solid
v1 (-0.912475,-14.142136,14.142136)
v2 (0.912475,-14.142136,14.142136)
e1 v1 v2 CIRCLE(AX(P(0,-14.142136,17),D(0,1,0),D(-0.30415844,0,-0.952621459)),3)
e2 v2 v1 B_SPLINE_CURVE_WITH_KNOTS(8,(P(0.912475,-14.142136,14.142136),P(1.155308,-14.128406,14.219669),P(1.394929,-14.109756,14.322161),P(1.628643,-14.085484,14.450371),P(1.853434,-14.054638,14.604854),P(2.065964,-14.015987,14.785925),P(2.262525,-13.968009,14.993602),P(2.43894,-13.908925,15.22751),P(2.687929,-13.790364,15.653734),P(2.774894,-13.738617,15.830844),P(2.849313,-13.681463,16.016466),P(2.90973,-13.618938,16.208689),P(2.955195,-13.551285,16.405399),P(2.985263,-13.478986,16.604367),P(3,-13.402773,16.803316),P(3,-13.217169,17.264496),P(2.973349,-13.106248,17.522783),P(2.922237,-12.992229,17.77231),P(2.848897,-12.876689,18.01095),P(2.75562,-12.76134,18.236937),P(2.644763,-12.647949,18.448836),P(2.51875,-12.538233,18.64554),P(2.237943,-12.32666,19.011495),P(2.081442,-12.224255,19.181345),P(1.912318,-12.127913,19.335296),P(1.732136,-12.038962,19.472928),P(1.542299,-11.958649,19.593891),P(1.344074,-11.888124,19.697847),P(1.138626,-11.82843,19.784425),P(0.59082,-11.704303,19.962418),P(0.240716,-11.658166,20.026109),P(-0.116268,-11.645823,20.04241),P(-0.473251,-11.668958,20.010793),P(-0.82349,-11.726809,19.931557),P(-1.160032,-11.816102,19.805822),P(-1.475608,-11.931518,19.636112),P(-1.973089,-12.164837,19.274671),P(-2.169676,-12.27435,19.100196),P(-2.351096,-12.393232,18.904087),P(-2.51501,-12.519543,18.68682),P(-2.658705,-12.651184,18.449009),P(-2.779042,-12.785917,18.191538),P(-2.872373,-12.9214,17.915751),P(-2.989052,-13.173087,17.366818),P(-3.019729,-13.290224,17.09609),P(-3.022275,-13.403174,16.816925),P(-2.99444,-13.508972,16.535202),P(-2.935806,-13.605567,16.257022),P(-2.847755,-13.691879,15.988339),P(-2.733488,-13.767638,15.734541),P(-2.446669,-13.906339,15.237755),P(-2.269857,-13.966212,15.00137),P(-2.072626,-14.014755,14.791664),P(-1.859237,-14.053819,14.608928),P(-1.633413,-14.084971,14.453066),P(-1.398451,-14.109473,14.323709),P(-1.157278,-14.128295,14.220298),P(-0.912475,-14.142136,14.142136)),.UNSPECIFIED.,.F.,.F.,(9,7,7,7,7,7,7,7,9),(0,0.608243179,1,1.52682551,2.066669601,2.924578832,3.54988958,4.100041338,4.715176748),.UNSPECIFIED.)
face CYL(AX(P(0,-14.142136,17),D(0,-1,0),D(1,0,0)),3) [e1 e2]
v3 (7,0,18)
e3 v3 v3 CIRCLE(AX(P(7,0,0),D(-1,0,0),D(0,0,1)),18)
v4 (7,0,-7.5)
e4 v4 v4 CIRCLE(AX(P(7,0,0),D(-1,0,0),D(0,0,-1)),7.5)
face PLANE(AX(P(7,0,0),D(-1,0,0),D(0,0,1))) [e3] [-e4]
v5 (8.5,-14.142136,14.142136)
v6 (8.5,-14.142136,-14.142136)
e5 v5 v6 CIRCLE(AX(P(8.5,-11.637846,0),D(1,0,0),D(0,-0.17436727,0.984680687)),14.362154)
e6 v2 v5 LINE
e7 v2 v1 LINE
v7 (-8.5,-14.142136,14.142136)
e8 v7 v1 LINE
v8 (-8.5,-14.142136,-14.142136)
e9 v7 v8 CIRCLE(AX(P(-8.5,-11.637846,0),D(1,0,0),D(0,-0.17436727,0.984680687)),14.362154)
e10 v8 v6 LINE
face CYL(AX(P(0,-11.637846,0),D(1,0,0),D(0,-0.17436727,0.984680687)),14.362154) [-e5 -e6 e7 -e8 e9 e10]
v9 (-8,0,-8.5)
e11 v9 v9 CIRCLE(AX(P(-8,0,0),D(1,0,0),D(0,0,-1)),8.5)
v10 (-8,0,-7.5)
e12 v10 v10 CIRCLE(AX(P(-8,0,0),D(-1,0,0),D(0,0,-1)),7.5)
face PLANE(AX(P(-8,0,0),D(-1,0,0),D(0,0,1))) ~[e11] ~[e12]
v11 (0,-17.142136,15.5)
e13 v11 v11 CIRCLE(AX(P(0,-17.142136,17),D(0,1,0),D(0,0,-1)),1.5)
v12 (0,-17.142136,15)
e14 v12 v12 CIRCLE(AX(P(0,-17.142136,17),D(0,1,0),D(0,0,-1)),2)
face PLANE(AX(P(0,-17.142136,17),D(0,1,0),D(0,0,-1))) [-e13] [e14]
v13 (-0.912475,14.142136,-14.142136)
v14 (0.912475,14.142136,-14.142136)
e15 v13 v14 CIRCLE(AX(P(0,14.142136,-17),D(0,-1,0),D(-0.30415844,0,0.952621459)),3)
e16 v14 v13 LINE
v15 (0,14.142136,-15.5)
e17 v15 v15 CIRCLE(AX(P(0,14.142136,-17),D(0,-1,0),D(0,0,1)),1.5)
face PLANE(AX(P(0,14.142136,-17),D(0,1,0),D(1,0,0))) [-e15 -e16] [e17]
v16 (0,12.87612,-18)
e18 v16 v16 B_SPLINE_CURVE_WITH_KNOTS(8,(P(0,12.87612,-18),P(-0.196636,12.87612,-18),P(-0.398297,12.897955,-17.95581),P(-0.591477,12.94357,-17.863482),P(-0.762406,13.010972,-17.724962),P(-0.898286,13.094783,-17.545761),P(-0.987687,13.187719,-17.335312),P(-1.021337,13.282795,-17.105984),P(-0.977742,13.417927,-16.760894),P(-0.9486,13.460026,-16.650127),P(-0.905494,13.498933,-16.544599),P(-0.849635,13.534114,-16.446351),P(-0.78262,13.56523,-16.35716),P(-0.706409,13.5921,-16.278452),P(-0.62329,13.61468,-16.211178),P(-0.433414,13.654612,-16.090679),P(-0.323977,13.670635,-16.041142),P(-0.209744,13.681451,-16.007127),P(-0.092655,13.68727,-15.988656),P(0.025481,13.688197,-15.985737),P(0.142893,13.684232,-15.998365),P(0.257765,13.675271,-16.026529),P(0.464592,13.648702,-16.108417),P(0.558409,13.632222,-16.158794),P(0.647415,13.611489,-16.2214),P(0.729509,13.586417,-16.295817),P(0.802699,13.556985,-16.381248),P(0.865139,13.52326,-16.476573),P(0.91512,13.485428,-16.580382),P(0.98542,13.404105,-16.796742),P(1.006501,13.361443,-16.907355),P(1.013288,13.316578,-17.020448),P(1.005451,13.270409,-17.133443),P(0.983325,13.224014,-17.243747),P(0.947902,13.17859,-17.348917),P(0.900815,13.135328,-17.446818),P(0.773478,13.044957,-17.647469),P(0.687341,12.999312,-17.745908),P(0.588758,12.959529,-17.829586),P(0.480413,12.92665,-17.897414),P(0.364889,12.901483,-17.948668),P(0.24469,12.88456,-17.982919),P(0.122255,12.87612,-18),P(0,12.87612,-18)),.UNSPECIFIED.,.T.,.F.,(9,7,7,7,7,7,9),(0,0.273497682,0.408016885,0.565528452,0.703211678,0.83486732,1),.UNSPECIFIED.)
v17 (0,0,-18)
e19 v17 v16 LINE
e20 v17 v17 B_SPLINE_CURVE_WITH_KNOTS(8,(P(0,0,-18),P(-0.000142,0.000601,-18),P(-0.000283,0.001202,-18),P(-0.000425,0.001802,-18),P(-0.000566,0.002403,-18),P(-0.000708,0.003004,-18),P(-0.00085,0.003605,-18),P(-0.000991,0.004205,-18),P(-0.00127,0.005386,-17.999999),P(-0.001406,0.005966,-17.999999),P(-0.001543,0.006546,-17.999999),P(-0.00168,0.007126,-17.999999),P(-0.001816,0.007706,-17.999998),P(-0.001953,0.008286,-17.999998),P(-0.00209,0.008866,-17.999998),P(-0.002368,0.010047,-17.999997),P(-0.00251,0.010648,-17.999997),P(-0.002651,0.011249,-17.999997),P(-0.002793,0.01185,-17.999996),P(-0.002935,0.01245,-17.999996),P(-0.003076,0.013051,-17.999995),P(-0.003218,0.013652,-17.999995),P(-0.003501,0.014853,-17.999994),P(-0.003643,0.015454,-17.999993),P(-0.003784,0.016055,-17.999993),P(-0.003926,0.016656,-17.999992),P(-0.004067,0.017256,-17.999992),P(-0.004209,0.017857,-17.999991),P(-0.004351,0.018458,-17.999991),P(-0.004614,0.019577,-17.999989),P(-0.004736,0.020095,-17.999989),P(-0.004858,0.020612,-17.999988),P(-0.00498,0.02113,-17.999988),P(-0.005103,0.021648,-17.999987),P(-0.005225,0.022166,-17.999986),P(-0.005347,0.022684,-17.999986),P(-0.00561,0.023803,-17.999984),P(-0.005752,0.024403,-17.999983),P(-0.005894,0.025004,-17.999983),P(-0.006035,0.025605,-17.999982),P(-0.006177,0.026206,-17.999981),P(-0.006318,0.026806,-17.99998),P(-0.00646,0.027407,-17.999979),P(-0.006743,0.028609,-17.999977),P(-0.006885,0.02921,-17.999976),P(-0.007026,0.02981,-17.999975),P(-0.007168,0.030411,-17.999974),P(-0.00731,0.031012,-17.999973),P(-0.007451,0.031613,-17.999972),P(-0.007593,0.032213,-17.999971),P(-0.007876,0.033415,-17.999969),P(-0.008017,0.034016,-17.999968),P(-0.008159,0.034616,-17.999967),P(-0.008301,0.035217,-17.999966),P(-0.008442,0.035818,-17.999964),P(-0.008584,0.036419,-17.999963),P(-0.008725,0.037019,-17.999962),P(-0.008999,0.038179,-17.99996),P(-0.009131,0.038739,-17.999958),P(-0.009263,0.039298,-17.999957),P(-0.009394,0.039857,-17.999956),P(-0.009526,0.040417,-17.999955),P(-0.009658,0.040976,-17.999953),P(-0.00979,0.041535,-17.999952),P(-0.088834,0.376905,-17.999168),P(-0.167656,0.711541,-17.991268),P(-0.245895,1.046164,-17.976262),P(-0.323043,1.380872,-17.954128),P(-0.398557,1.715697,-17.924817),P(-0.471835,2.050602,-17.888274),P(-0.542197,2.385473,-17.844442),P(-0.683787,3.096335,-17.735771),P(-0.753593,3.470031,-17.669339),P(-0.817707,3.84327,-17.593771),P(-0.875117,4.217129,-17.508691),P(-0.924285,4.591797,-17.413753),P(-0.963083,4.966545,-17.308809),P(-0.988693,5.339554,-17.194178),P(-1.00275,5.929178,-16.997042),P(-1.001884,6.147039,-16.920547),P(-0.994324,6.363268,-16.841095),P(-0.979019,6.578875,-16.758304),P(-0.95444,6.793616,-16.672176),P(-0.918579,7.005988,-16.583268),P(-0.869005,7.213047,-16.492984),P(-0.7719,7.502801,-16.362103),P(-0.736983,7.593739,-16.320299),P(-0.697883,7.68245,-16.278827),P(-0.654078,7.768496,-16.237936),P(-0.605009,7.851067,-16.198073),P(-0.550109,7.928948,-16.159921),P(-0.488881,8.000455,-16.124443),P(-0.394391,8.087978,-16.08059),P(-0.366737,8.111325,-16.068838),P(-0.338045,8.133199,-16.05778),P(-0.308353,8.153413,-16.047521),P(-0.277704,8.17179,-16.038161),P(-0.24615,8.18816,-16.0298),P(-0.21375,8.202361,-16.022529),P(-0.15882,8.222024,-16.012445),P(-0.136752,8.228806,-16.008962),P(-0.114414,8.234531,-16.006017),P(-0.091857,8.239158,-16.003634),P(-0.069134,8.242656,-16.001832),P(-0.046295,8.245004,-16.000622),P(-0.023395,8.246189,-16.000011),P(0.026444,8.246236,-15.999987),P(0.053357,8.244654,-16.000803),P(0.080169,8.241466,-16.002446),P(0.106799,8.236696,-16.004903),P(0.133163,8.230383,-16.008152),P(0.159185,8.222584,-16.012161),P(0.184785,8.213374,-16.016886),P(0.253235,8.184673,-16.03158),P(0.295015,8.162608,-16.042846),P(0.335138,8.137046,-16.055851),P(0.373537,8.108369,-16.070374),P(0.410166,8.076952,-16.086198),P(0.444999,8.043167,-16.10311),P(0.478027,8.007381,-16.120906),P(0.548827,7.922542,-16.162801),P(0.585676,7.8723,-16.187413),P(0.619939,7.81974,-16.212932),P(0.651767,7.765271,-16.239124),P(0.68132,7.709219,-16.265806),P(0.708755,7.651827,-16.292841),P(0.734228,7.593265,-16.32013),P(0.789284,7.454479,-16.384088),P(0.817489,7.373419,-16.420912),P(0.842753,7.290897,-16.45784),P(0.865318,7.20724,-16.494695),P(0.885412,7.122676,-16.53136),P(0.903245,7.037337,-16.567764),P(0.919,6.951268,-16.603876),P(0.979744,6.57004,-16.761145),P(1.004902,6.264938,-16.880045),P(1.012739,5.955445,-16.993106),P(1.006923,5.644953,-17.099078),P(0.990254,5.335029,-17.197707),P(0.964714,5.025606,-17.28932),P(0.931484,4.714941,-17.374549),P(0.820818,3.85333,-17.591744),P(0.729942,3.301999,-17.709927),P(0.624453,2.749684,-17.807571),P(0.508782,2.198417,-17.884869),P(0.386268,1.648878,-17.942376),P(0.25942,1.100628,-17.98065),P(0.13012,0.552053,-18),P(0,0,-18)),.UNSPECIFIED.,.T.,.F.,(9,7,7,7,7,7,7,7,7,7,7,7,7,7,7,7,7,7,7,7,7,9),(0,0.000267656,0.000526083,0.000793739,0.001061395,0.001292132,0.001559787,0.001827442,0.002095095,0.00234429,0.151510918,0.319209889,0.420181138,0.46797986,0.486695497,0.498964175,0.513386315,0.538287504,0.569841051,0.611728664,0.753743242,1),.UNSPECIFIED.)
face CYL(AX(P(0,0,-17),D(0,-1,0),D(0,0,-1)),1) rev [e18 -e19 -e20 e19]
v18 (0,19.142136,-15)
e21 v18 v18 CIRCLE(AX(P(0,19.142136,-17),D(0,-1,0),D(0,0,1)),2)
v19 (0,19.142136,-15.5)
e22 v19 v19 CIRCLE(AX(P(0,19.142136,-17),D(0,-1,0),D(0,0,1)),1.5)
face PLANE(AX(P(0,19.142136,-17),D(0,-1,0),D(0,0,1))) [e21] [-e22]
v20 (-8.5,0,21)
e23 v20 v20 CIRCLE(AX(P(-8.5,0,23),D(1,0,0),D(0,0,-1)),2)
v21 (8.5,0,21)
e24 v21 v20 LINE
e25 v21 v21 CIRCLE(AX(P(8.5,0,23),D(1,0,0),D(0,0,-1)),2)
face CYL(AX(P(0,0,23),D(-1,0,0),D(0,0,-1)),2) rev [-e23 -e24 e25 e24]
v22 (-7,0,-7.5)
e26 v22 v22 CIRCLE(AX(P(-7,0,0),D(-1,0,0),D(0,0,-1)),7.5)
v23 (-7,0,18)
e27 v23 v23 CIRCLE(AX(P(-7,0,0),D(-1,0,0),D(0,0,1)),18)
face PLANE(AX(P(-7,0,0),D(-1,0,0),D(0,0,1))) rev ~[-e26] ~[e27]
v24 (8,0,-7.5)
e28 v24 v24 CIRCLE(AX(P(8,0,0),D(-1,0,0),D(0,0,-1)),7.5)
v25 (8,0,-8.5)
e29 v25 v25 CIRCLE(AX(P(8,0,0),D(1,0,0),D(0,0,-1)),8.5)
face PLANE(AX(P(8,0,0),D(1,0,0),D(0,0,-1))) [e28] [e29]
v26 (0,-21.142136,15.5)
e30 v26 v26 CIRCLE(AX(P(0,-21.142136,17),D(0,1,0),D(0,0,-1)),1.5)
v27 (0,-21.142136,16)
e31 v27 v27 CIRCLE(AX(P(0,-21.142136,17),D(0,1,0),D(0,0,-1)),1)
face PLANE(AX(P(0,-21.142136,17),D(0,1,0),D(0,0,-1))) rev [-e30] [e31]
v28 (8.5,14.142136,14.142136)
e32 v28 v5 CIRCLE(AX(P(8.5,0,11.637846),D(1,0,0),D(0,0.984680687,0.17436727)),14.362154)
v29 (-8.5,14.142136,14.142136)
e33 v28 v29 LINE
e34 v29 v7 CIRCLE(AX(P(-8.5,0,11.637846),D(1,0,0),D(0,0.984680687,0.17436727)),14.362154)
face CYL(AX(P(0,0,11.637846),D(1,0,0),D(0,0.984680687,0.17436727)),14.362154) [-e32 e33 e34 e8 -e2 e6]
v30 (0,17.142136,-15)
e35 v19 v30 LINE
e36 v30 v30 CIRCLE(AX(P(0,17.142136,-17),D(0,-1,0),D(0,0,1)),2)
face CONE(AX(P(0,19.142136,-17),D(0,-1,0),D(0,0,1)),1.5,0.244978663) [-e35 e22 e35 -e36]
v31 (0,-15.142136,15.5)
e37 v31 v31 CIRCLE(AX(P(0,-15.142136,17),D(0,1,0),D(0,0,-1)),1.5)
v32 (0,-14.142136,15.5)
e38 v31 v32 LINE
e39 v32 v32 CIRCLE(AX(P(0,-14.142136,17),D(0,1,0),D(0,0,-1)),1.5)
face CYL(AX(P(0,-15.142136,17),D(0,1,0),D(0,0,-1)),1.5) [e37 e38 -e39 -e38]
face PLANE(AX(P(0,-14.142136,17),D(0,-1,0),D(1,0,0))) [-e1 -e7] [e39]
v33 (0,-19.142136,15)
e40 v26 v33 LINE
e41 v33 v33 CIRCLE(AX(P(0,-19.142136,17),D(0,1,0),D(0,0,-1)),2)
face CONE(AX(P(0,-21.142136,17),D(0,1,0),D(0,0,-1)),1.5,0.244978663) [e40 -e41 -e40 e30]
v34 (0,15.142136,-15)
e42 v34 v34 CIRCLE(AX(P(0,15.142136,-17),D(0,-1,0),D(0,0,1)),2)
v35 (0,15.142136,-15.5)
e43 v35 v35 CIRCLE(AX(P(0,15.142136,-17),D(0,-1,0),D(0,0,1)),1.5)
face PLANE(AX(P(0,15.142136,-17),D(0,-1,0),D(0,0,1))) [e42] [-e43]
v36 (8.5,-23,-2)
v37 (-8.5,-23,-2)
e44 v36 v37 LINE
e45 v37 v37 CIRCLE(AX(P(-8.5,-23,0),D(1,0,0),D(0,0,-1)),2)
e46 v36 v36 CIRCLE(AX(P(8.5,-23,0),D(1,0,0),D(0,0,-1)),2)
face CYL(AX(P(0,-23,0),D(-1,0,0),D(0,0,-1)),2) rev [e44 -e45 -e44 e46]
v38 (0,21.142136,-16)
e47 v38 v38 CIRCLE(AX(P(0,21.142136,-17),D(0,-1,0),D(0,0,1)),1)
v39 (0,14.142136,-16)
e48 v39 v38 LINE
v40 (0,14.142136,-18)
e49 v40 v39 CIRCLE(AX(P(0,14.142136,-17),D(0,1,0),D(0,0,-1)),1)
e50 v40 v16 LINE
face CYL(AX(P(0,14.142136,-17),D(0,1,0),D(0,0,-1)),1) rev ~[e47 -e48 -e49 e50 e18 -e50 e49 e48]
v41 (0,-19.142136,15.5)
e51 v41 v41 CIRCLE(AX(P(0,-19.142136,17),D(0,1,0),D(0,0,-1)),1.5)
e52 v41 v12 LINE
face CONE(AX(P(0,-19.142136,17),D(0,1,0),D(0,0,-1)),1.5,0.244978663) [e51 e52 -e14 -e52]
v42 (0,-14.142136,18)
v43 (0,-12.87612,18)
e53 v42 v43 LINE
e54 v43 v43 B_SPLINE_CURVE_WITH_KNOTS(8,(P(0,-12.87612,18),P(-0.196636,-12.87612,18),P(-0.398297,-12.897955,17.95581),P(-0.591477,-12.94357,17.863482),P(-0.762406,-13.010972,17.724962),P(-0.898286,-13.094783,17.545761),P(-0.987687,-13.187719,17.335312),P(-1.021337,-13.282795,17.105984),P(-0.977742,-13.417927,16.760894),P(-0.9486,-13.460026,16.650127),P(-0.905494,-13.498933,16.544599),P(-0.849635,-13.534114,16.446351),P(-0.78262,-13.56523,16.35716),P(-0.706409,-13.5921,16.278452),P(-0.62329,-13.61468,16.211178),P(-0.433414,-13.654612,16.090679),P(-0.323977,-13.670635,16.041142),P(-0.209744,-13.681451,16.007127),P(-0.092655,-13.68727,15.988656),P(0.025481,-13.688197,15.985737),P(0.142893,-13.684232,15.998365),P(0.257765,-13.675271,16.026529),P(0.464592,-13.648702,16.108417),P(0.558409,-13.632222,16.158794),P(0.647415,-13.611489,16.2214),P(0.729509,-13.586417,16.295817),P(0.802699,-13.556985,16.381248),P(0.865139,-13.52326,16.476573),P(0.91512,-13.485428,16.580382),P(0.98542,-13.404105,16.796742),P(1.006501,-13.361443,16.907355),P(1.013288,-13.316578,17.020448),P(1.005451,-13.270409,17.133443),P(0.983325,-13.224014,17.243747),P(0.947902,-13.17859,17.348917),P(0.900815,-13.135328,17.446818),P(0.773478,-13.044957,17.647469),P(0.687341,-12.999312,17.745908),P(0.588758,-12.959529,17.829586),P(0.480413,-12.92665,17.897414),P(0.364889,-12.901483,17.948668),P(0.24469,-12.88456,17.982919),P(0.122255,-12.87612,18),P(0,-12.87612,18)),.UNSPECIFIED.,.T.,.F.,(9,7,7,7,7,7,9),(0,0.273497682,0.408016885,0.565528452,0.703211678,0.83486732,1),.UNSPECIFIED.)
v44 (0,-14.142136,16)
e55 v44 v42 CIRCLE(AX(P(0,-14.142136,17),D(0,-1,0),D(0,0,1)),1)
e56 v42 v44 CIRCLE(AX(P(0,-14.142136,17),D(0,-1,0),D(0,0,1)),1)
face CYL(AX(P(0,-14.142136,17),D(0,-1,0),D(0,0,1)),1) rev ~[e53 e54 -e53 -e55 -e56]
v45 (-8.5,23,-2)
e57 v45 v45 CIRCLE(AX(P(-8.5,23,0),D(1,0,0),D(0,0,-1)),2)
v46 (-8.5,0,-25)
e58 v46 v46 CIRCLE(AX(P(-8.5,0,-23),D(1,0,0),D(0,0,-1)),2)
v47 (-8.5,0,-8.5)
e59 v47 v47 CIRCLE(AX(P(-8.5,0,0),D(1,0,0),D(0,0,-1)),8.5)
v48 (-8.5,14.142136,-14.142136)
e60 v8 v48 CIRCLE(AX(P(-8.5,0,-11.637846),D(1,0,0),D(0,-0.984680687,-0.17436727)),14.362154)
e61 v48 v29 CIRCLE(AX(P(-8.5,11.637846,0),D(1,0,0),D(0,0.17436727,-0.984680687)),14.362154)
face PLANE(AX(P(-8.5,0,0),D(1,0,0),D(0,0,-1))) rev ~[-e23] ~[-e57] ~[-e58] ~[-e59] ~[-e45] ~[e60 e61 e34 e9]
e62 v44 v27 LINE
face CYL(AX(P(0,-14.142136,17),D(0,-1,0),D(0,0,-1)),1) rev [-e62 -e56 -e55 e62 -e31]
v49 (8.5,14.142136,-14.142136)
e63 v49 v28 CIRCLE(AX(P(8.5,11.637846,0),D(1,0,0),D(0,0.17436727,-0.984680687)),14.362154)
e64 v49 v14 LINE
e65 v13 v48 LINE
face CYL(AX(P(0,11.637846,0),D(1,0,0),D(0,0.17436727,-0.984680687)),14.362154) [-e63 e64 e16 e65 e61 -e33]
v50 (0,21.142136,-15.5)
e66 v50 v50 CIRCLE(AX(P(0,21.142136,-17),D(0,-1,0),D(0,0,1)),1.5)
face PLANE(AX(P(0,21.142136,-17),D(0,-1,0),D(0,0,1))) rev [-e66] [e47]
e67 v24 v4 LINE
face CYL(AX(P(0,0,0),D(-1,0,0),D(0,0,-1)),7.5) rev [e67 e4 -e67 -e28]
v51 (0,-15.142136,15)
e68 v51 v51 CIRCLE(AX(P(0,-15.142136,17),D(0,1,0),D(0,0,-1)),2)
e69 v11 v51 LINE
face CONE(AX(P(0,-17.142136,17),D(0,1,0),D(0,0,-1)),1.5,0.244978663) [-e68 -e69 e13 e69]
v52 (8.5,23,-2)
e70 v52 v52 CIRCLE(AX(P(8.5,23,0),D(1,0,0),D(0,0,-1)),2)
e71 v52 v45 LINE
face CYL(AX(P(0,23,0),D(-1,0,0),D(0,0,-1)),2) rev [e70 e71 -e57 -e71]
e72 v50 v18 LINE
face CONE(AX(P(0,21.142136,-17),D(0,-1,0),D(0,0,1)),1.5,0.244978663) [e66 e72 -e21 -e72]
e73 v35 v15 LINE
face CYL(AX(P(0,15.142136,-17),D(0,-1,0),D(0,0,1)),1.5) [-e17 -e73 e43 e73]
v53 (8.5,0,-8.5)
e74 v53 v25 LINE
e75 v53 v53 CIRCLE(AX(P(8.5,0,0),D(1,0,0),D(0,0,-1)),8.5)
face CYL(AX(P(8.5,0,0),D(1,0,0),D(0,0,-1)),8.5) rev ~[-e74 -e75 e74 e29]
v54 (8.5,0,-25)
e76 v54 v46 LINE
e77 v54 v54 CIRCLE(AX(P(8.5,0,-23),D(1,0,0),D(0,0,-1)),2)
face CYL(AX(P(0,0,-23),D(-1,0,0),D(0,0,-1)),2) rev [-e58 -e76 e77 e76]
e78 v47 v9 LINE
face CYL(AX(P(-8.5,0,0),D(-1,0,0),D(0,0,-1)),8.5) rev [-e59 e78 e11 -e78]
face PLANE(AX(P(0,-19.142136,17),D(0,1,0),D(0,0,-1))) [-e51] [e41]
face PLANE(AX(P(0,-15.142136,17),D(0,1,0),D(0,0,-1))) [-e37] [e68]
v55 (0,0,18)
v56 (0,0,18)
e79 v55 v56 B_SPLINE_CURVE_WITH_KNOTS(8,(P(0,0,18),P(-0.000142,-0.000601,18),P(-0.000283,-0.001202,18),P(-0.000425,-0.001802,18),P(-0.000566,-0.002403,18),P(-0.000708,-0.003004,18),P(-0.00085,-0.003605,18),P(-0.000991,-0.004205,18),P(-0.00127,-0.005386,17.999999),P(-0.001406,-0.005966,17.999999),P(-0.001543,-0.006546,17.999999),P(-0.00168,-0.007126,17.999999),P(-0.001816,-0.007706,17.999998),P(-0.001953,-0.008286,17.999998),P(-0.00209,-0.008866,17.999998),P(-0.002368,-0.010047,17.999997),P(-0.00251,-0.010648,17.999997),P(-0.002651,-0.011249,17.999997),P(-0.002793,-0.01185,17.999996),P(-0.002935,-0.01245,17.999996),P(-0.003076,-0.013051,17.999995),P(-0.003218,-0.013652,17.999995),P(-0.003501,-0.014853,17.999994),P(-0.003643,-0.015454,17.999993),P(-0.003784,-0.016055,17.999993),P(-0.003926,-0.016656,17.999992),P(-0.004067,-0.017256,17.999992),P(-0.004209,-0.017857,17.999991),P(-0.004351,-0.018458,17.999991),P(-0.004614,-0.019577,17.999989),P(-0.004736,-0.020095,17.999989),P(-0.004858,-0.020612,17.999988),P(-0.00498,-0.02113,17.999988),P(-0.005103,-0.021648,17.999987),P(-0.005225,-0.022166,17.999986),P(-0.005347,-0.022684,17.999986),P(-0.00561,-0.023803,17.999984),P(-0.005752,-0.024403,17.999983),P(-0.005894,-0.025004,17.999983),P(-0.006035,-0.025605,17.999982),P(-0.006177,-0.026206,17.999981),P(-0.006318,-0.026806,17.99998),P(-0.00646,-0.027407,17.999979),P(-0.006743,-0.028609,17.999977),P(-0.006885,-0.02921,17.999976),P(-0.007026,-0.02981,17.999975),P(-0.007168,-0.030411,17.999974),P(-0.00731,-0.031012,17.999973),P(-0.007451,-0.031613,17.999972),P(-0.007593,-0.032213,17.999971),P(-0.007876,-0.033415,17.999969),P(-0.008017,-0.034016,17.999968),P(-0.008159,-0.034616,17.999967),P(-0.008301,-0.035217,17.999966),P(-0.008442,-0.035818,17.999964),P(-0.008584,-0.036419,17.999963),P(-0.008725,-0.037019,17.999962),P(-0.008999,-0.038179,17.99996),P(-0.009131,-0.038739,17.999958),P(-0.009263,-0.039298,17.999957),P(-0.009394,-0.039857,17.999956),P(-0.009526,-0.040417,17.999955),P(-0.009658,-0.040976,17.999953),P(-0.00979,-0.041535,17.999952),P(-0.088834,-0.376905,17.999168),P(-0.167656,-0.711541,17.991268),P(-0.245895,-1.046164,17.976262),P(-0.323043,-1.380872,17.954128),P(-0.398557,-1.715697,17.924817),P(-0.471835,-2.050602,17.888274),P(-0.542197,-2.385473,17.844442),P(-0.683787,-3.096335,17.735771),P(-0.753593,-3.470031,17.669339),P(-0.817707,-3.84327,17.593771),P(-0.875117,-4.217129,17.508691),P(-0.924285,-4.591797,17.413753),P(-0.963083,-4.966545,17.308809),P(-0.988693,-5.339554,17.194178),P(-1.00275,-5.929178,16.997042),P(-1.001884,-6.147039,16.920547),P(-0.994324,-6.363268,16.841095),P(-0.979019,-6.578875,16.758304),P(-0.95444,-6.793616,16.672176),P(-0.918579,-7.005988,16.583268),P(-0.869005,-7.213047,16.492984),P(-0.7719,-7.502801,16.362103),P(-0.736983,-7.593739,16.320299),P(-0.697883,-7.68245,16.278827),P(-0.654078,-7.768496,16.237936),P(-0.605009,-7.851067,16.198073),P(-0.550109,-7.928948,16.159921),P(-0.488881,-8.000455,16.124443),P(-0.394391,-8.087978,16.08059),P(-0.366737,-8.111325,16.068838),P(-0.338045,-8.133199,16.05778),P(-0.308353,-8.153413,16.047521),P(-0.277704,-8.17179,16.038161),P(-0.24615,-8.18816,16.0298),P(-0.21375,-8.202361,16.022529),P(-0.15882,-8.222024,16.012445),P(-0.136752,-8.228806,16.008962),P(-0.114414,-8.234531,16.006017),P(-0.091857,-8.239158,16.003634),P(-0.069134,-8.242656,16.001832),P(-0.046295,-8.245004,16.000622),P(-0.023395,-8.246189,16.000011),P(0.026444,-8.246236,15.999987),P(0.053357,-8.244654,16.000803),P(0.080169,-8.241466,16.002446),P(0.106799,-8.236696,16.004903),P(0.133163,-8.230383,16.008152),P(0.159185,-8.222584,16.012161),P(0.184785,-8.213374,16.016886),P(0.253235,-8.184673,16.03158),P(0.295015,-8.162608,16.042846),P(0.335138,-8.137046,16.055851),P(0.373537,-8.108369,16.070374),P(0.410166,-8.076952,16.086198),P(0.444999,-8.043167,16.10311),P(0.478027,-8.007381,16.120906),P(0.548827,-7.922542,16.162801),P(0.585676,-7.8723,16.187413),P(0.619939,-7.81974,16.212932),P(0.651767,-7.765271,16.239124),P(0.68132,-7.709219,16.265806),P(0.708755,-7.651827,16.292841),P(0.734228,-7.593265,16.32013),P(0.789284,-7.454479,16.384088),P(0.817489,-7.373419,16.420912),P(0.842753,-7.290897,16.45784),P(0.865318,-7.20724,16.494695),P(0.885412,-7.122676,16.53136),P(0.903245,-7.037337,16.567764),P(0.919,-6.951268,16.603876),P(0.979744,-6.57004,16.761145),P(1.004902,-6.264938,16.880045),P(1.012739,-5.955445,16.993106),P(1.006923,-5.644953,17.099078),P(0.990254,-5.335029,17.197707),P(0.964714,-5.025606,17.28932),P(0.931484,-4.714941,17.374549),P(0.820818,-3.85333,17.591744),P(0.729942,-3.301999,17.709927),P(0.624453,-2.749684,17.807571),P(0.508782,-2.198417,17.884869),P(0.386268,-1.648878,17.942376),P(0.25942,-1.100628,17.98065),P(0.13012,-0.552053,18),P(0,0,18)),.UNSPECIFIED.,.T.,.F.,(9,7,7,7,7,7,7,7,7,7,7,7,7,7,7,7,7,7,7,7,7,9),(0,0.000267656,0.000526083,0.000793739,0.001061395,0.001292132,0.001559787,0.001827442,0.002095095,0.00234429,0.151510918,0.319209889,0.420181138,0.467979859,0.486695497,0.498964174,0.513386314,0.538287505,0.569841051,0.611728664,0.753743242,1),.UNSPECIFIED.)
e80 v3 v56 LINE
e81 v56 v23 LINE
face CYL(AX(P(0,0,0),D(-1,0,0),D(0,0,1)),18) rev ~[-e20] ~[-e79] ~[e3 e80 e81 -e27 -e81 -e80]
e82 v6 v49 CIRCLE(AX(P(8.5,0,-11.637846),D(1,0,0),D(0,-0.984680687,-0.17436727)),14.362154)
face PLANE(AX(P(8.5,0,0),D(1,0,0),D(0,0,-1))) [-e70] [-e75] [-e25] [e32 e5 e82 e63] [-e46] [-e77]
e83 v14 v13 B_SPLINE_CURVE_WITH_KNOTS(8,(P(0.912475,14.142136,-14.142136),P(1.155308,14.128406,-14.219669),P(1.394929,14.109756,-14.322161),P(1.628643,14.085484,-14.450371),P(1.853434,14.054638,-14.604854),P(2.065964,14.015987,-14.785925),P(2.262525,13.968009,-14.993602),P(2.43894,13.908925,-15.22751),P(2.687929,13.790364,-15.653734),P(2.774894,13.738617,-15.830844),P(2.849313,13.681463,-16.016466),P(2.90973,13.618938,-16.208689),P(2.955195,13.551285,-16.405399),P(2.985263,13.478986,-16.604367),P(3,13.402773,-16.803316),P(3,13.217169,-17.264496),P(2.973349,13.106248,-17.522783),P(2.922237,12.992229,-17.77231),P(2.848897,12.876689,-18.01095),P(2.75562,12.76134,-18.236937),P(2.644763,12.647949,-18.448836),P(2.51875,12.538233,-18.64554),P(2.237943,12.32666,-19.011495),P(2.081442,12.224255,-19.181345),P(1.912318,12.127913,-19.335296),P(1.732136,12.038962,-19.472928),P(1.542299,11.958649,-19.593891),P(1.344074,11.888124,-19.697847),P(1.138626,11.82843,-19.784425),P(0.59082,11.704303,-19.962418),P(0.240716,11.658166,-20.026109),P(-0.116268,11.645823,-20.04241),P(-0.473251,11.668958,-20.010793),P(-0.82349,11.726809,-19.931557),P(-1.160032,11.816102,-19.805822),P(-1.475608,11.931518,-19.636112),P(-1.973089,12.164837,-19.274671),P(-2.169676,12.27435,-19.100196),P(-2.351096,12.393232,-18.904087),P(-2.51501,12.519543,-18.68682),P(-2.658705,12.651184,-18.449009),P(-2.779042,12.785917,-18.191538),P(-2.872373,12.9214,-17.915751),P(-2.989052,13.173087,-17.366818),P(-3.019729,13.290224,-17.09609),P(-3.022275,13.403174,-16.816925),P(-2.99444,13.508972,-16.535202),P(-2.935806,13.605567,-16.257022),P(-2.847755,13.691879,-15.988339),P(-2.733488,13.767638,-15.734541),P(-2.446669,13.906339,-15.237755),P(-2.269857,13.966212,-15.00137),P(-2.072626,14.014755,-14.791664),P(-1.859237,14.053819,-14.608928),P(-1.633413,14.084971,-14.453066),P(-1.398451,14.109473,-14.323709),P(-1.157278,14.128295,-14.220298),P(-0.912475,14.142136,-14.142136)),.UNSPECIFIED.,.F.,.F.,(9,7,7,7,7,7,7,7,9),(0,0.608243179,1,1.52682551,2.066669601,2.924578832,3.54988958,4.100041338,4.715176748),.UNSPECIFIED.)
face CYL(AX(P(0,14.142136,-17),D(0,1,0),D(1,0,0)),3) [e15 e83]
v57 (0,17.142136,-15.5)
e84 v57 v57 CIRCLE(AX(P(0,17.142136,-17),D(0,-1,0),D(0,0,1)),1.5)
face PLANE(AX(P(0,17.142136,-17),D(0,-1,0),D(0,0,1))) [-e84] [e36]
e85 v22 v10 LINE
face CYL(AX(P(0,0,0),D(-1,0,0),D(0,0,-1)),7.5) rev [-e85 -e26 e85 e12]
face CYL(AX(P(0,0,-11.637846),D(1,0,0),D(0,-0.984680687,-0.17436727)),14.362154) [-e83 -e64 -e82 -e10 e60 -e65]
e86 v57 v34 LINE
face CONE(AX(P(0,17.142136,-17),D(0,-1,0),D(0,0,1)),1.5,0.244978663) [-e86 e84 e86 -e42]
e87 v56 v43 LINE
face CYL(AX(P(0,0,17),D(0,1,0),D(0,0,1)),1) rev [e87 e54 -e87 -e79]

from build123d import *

# Parameters (mm, degrees)
SKETCH2_R           = 2
SKETCH2_R_2         = 7.5
FLANGE_DEPTH        = 8.5
SKETCH3_R           = 8.5
O_RING_SEAT_DEPTH   = 0.5
SKETCH8_R           = 18
CUT_EXTRUDE1_DEPTH  = 7
SKETCH5_R           = 1
OUTLET_DEPTH        = 38.739236876
BOSS_EXTRUDE2_REACH = 50.576
SKETCH6_R           = 3
SKETCH6_R_2         = 1
INLET_COUNT         = 2


with BuildPart() as part:
    # Sketch2 → Flange (new, symmetric)
    with BuildSketch(Plane(origin=(0, 0, 0), x_dir=(0, 0, -1), z_dir=(1, 0, 0))):
        with BuildLine():
            ThreePointArc((-14.142135624, 14.142135624), (-26, 0), (-14.142135624, -14.142135624))
            ThreePointArc((-14.142135624, -14.142135624), (0, -26), (14.142135624, -14.142135624))
            ThreePointArc((14.142135624, -14.142135624), (26, 0), (14.142135624, 14.142135624))
            ThreePointArc((14.142135624, 14.142135624), (0, 26), (-14.142135624, 14.142135624))
        make_face()
        with Locations((0, 23)):
            Circle(SKETCH2_R, mode=Mode.SUBTRACT)
        with Locations((23, 0)):
            Circle(SKETCH2_R, mode=Mode.SUBTRACT)
        with Locations((0, -23)):
            Circle(SKETCH2_R, mode=Mode.SUBTRACT)
        with Locations((-23, 0)):
            Circle(SKETCH2_R, mode=Mode.SUBTRACT)
        Circle(SKETCH2_R_2, mode=Mode.SUBTRACT)
    extrude(amount=FLANGE_DEPTH, both=True)

    # Sketch3 → O-Ring Seat (cut)
    with BuildSketch(Plane(origin=(8.5, 0, 0), x_dir=(0, 0, -1), z_dir=(1, 0, 0))):
        Circle(SKETCH3_R)
    o_ring_seat = extrude(amount=-O_RING_SEAT_DEPTH, mode=Mode.SUBTRACT)

    # Mirror1: O-Ring Seat across plane
    add(o_ring_seat.mirror(Plane(origin=(0, 0, 0), x_dir=(0, 0, 1), z_dir=(1, 0, 0))), mode=Mode.SUBTRACT)

    # Sketch8 → Cut-Extrude1 (cut, symmetric)
    with BuildSketch(Plane.ZY):
        Circle(SKETCH8_R)
    extrude(amount=CUT_EXTRUDE1_DEPTH, both=True, mode=Mode.SUBTRACT)

    # Sketch5 → Outlet (cut, through all)
    with BuildSketch(Plane(origin=(0, 0, 0), x_dir=(1, 0, 0), z_dir=(0, 1, 0))):
        with Locations(Location((0, 17, 0), (0, 0, 90))):
            Circle(SKETCH5_R)
    outlet = extrude(amount=OUTLET_DEPTH, mode=Mode.SUBTRACT)

    # Sketch6 → Boss-Extrude2 (add, up to next)
    with BuildSketch(Plane(origin=(0, 14.142135624, 0), x_dir=(1, 0, 0), z_dir=(0, 1, 0)), mode=Mode.PRIVATE) as boss_extrude2_sk1:
        with Locations((0, 17)):
            Circle(SKETCH6_R)
        with Locations(Location((0, 17, 0), (0, 0, 90))):
            Circle(SKETCH6_R_2, mode=Mode.SUBTRACT)
    boss_extrude2_tool1 = extrude(boss_extrude2_sk1.sketch, amount=-BOSS_EXTRUDE2_REACH, mode=Mode.PRIVATE) - part.part
    boss_extrude2 = boss_extrude2_tool1.solids().sort_by_distance((-2.915147, 14.142136, -17))[0]
    add(boss_extrude2)

    # Sketch9 → Revolve1 (revolve)
    with BuildSketch(Plane(origin=(0, 0, 0), x_dir=(0, 0, -1), z_dir=(1, 0, 0)), mode=Mode.PRIVATE) as revolve1_sk:
        Polygon((18, 14.142135624), (18, 21.142135624), (18.5, 21.142135624), (19, 19.142135624), (18.5, 19.142135624), (19, 17.142135624), (18.5, 17.142135624), (19, 15.142135624), (18.5, 15.142135624), (18.5, 14.142135624), align=None)
    revolve1 = revolve(revolve1_sk.sketch.rotate(Axis((0, 14.142135624, -17), (0, -1, 0)), 180), axis=Axis((0, 14.142135624, -17), (0, -1, 0)))

    # Inlet: Outlet, Boss-Extrude2, Revolve1 ×2 about axis
    inlet_axis = Axis((8, 0, 0), (1, 0, 0))
    add([outlet.rotate(inlet_axis, i * 360 / INLET_COUNT) for i in range(1, INLET_COUNT)], mode=Mode.SUBTRACT)
    add([boss_extrude2.rotate(inlet_axis, i * 360 / INLET_COUNT) for i in range(1, INLET_COUNT)])
    add([revolve1.rotate(inlet_axis, i * 360 / INLET_COUNT) for i in range(1, INLET_COUNT)])


solid = part.part
